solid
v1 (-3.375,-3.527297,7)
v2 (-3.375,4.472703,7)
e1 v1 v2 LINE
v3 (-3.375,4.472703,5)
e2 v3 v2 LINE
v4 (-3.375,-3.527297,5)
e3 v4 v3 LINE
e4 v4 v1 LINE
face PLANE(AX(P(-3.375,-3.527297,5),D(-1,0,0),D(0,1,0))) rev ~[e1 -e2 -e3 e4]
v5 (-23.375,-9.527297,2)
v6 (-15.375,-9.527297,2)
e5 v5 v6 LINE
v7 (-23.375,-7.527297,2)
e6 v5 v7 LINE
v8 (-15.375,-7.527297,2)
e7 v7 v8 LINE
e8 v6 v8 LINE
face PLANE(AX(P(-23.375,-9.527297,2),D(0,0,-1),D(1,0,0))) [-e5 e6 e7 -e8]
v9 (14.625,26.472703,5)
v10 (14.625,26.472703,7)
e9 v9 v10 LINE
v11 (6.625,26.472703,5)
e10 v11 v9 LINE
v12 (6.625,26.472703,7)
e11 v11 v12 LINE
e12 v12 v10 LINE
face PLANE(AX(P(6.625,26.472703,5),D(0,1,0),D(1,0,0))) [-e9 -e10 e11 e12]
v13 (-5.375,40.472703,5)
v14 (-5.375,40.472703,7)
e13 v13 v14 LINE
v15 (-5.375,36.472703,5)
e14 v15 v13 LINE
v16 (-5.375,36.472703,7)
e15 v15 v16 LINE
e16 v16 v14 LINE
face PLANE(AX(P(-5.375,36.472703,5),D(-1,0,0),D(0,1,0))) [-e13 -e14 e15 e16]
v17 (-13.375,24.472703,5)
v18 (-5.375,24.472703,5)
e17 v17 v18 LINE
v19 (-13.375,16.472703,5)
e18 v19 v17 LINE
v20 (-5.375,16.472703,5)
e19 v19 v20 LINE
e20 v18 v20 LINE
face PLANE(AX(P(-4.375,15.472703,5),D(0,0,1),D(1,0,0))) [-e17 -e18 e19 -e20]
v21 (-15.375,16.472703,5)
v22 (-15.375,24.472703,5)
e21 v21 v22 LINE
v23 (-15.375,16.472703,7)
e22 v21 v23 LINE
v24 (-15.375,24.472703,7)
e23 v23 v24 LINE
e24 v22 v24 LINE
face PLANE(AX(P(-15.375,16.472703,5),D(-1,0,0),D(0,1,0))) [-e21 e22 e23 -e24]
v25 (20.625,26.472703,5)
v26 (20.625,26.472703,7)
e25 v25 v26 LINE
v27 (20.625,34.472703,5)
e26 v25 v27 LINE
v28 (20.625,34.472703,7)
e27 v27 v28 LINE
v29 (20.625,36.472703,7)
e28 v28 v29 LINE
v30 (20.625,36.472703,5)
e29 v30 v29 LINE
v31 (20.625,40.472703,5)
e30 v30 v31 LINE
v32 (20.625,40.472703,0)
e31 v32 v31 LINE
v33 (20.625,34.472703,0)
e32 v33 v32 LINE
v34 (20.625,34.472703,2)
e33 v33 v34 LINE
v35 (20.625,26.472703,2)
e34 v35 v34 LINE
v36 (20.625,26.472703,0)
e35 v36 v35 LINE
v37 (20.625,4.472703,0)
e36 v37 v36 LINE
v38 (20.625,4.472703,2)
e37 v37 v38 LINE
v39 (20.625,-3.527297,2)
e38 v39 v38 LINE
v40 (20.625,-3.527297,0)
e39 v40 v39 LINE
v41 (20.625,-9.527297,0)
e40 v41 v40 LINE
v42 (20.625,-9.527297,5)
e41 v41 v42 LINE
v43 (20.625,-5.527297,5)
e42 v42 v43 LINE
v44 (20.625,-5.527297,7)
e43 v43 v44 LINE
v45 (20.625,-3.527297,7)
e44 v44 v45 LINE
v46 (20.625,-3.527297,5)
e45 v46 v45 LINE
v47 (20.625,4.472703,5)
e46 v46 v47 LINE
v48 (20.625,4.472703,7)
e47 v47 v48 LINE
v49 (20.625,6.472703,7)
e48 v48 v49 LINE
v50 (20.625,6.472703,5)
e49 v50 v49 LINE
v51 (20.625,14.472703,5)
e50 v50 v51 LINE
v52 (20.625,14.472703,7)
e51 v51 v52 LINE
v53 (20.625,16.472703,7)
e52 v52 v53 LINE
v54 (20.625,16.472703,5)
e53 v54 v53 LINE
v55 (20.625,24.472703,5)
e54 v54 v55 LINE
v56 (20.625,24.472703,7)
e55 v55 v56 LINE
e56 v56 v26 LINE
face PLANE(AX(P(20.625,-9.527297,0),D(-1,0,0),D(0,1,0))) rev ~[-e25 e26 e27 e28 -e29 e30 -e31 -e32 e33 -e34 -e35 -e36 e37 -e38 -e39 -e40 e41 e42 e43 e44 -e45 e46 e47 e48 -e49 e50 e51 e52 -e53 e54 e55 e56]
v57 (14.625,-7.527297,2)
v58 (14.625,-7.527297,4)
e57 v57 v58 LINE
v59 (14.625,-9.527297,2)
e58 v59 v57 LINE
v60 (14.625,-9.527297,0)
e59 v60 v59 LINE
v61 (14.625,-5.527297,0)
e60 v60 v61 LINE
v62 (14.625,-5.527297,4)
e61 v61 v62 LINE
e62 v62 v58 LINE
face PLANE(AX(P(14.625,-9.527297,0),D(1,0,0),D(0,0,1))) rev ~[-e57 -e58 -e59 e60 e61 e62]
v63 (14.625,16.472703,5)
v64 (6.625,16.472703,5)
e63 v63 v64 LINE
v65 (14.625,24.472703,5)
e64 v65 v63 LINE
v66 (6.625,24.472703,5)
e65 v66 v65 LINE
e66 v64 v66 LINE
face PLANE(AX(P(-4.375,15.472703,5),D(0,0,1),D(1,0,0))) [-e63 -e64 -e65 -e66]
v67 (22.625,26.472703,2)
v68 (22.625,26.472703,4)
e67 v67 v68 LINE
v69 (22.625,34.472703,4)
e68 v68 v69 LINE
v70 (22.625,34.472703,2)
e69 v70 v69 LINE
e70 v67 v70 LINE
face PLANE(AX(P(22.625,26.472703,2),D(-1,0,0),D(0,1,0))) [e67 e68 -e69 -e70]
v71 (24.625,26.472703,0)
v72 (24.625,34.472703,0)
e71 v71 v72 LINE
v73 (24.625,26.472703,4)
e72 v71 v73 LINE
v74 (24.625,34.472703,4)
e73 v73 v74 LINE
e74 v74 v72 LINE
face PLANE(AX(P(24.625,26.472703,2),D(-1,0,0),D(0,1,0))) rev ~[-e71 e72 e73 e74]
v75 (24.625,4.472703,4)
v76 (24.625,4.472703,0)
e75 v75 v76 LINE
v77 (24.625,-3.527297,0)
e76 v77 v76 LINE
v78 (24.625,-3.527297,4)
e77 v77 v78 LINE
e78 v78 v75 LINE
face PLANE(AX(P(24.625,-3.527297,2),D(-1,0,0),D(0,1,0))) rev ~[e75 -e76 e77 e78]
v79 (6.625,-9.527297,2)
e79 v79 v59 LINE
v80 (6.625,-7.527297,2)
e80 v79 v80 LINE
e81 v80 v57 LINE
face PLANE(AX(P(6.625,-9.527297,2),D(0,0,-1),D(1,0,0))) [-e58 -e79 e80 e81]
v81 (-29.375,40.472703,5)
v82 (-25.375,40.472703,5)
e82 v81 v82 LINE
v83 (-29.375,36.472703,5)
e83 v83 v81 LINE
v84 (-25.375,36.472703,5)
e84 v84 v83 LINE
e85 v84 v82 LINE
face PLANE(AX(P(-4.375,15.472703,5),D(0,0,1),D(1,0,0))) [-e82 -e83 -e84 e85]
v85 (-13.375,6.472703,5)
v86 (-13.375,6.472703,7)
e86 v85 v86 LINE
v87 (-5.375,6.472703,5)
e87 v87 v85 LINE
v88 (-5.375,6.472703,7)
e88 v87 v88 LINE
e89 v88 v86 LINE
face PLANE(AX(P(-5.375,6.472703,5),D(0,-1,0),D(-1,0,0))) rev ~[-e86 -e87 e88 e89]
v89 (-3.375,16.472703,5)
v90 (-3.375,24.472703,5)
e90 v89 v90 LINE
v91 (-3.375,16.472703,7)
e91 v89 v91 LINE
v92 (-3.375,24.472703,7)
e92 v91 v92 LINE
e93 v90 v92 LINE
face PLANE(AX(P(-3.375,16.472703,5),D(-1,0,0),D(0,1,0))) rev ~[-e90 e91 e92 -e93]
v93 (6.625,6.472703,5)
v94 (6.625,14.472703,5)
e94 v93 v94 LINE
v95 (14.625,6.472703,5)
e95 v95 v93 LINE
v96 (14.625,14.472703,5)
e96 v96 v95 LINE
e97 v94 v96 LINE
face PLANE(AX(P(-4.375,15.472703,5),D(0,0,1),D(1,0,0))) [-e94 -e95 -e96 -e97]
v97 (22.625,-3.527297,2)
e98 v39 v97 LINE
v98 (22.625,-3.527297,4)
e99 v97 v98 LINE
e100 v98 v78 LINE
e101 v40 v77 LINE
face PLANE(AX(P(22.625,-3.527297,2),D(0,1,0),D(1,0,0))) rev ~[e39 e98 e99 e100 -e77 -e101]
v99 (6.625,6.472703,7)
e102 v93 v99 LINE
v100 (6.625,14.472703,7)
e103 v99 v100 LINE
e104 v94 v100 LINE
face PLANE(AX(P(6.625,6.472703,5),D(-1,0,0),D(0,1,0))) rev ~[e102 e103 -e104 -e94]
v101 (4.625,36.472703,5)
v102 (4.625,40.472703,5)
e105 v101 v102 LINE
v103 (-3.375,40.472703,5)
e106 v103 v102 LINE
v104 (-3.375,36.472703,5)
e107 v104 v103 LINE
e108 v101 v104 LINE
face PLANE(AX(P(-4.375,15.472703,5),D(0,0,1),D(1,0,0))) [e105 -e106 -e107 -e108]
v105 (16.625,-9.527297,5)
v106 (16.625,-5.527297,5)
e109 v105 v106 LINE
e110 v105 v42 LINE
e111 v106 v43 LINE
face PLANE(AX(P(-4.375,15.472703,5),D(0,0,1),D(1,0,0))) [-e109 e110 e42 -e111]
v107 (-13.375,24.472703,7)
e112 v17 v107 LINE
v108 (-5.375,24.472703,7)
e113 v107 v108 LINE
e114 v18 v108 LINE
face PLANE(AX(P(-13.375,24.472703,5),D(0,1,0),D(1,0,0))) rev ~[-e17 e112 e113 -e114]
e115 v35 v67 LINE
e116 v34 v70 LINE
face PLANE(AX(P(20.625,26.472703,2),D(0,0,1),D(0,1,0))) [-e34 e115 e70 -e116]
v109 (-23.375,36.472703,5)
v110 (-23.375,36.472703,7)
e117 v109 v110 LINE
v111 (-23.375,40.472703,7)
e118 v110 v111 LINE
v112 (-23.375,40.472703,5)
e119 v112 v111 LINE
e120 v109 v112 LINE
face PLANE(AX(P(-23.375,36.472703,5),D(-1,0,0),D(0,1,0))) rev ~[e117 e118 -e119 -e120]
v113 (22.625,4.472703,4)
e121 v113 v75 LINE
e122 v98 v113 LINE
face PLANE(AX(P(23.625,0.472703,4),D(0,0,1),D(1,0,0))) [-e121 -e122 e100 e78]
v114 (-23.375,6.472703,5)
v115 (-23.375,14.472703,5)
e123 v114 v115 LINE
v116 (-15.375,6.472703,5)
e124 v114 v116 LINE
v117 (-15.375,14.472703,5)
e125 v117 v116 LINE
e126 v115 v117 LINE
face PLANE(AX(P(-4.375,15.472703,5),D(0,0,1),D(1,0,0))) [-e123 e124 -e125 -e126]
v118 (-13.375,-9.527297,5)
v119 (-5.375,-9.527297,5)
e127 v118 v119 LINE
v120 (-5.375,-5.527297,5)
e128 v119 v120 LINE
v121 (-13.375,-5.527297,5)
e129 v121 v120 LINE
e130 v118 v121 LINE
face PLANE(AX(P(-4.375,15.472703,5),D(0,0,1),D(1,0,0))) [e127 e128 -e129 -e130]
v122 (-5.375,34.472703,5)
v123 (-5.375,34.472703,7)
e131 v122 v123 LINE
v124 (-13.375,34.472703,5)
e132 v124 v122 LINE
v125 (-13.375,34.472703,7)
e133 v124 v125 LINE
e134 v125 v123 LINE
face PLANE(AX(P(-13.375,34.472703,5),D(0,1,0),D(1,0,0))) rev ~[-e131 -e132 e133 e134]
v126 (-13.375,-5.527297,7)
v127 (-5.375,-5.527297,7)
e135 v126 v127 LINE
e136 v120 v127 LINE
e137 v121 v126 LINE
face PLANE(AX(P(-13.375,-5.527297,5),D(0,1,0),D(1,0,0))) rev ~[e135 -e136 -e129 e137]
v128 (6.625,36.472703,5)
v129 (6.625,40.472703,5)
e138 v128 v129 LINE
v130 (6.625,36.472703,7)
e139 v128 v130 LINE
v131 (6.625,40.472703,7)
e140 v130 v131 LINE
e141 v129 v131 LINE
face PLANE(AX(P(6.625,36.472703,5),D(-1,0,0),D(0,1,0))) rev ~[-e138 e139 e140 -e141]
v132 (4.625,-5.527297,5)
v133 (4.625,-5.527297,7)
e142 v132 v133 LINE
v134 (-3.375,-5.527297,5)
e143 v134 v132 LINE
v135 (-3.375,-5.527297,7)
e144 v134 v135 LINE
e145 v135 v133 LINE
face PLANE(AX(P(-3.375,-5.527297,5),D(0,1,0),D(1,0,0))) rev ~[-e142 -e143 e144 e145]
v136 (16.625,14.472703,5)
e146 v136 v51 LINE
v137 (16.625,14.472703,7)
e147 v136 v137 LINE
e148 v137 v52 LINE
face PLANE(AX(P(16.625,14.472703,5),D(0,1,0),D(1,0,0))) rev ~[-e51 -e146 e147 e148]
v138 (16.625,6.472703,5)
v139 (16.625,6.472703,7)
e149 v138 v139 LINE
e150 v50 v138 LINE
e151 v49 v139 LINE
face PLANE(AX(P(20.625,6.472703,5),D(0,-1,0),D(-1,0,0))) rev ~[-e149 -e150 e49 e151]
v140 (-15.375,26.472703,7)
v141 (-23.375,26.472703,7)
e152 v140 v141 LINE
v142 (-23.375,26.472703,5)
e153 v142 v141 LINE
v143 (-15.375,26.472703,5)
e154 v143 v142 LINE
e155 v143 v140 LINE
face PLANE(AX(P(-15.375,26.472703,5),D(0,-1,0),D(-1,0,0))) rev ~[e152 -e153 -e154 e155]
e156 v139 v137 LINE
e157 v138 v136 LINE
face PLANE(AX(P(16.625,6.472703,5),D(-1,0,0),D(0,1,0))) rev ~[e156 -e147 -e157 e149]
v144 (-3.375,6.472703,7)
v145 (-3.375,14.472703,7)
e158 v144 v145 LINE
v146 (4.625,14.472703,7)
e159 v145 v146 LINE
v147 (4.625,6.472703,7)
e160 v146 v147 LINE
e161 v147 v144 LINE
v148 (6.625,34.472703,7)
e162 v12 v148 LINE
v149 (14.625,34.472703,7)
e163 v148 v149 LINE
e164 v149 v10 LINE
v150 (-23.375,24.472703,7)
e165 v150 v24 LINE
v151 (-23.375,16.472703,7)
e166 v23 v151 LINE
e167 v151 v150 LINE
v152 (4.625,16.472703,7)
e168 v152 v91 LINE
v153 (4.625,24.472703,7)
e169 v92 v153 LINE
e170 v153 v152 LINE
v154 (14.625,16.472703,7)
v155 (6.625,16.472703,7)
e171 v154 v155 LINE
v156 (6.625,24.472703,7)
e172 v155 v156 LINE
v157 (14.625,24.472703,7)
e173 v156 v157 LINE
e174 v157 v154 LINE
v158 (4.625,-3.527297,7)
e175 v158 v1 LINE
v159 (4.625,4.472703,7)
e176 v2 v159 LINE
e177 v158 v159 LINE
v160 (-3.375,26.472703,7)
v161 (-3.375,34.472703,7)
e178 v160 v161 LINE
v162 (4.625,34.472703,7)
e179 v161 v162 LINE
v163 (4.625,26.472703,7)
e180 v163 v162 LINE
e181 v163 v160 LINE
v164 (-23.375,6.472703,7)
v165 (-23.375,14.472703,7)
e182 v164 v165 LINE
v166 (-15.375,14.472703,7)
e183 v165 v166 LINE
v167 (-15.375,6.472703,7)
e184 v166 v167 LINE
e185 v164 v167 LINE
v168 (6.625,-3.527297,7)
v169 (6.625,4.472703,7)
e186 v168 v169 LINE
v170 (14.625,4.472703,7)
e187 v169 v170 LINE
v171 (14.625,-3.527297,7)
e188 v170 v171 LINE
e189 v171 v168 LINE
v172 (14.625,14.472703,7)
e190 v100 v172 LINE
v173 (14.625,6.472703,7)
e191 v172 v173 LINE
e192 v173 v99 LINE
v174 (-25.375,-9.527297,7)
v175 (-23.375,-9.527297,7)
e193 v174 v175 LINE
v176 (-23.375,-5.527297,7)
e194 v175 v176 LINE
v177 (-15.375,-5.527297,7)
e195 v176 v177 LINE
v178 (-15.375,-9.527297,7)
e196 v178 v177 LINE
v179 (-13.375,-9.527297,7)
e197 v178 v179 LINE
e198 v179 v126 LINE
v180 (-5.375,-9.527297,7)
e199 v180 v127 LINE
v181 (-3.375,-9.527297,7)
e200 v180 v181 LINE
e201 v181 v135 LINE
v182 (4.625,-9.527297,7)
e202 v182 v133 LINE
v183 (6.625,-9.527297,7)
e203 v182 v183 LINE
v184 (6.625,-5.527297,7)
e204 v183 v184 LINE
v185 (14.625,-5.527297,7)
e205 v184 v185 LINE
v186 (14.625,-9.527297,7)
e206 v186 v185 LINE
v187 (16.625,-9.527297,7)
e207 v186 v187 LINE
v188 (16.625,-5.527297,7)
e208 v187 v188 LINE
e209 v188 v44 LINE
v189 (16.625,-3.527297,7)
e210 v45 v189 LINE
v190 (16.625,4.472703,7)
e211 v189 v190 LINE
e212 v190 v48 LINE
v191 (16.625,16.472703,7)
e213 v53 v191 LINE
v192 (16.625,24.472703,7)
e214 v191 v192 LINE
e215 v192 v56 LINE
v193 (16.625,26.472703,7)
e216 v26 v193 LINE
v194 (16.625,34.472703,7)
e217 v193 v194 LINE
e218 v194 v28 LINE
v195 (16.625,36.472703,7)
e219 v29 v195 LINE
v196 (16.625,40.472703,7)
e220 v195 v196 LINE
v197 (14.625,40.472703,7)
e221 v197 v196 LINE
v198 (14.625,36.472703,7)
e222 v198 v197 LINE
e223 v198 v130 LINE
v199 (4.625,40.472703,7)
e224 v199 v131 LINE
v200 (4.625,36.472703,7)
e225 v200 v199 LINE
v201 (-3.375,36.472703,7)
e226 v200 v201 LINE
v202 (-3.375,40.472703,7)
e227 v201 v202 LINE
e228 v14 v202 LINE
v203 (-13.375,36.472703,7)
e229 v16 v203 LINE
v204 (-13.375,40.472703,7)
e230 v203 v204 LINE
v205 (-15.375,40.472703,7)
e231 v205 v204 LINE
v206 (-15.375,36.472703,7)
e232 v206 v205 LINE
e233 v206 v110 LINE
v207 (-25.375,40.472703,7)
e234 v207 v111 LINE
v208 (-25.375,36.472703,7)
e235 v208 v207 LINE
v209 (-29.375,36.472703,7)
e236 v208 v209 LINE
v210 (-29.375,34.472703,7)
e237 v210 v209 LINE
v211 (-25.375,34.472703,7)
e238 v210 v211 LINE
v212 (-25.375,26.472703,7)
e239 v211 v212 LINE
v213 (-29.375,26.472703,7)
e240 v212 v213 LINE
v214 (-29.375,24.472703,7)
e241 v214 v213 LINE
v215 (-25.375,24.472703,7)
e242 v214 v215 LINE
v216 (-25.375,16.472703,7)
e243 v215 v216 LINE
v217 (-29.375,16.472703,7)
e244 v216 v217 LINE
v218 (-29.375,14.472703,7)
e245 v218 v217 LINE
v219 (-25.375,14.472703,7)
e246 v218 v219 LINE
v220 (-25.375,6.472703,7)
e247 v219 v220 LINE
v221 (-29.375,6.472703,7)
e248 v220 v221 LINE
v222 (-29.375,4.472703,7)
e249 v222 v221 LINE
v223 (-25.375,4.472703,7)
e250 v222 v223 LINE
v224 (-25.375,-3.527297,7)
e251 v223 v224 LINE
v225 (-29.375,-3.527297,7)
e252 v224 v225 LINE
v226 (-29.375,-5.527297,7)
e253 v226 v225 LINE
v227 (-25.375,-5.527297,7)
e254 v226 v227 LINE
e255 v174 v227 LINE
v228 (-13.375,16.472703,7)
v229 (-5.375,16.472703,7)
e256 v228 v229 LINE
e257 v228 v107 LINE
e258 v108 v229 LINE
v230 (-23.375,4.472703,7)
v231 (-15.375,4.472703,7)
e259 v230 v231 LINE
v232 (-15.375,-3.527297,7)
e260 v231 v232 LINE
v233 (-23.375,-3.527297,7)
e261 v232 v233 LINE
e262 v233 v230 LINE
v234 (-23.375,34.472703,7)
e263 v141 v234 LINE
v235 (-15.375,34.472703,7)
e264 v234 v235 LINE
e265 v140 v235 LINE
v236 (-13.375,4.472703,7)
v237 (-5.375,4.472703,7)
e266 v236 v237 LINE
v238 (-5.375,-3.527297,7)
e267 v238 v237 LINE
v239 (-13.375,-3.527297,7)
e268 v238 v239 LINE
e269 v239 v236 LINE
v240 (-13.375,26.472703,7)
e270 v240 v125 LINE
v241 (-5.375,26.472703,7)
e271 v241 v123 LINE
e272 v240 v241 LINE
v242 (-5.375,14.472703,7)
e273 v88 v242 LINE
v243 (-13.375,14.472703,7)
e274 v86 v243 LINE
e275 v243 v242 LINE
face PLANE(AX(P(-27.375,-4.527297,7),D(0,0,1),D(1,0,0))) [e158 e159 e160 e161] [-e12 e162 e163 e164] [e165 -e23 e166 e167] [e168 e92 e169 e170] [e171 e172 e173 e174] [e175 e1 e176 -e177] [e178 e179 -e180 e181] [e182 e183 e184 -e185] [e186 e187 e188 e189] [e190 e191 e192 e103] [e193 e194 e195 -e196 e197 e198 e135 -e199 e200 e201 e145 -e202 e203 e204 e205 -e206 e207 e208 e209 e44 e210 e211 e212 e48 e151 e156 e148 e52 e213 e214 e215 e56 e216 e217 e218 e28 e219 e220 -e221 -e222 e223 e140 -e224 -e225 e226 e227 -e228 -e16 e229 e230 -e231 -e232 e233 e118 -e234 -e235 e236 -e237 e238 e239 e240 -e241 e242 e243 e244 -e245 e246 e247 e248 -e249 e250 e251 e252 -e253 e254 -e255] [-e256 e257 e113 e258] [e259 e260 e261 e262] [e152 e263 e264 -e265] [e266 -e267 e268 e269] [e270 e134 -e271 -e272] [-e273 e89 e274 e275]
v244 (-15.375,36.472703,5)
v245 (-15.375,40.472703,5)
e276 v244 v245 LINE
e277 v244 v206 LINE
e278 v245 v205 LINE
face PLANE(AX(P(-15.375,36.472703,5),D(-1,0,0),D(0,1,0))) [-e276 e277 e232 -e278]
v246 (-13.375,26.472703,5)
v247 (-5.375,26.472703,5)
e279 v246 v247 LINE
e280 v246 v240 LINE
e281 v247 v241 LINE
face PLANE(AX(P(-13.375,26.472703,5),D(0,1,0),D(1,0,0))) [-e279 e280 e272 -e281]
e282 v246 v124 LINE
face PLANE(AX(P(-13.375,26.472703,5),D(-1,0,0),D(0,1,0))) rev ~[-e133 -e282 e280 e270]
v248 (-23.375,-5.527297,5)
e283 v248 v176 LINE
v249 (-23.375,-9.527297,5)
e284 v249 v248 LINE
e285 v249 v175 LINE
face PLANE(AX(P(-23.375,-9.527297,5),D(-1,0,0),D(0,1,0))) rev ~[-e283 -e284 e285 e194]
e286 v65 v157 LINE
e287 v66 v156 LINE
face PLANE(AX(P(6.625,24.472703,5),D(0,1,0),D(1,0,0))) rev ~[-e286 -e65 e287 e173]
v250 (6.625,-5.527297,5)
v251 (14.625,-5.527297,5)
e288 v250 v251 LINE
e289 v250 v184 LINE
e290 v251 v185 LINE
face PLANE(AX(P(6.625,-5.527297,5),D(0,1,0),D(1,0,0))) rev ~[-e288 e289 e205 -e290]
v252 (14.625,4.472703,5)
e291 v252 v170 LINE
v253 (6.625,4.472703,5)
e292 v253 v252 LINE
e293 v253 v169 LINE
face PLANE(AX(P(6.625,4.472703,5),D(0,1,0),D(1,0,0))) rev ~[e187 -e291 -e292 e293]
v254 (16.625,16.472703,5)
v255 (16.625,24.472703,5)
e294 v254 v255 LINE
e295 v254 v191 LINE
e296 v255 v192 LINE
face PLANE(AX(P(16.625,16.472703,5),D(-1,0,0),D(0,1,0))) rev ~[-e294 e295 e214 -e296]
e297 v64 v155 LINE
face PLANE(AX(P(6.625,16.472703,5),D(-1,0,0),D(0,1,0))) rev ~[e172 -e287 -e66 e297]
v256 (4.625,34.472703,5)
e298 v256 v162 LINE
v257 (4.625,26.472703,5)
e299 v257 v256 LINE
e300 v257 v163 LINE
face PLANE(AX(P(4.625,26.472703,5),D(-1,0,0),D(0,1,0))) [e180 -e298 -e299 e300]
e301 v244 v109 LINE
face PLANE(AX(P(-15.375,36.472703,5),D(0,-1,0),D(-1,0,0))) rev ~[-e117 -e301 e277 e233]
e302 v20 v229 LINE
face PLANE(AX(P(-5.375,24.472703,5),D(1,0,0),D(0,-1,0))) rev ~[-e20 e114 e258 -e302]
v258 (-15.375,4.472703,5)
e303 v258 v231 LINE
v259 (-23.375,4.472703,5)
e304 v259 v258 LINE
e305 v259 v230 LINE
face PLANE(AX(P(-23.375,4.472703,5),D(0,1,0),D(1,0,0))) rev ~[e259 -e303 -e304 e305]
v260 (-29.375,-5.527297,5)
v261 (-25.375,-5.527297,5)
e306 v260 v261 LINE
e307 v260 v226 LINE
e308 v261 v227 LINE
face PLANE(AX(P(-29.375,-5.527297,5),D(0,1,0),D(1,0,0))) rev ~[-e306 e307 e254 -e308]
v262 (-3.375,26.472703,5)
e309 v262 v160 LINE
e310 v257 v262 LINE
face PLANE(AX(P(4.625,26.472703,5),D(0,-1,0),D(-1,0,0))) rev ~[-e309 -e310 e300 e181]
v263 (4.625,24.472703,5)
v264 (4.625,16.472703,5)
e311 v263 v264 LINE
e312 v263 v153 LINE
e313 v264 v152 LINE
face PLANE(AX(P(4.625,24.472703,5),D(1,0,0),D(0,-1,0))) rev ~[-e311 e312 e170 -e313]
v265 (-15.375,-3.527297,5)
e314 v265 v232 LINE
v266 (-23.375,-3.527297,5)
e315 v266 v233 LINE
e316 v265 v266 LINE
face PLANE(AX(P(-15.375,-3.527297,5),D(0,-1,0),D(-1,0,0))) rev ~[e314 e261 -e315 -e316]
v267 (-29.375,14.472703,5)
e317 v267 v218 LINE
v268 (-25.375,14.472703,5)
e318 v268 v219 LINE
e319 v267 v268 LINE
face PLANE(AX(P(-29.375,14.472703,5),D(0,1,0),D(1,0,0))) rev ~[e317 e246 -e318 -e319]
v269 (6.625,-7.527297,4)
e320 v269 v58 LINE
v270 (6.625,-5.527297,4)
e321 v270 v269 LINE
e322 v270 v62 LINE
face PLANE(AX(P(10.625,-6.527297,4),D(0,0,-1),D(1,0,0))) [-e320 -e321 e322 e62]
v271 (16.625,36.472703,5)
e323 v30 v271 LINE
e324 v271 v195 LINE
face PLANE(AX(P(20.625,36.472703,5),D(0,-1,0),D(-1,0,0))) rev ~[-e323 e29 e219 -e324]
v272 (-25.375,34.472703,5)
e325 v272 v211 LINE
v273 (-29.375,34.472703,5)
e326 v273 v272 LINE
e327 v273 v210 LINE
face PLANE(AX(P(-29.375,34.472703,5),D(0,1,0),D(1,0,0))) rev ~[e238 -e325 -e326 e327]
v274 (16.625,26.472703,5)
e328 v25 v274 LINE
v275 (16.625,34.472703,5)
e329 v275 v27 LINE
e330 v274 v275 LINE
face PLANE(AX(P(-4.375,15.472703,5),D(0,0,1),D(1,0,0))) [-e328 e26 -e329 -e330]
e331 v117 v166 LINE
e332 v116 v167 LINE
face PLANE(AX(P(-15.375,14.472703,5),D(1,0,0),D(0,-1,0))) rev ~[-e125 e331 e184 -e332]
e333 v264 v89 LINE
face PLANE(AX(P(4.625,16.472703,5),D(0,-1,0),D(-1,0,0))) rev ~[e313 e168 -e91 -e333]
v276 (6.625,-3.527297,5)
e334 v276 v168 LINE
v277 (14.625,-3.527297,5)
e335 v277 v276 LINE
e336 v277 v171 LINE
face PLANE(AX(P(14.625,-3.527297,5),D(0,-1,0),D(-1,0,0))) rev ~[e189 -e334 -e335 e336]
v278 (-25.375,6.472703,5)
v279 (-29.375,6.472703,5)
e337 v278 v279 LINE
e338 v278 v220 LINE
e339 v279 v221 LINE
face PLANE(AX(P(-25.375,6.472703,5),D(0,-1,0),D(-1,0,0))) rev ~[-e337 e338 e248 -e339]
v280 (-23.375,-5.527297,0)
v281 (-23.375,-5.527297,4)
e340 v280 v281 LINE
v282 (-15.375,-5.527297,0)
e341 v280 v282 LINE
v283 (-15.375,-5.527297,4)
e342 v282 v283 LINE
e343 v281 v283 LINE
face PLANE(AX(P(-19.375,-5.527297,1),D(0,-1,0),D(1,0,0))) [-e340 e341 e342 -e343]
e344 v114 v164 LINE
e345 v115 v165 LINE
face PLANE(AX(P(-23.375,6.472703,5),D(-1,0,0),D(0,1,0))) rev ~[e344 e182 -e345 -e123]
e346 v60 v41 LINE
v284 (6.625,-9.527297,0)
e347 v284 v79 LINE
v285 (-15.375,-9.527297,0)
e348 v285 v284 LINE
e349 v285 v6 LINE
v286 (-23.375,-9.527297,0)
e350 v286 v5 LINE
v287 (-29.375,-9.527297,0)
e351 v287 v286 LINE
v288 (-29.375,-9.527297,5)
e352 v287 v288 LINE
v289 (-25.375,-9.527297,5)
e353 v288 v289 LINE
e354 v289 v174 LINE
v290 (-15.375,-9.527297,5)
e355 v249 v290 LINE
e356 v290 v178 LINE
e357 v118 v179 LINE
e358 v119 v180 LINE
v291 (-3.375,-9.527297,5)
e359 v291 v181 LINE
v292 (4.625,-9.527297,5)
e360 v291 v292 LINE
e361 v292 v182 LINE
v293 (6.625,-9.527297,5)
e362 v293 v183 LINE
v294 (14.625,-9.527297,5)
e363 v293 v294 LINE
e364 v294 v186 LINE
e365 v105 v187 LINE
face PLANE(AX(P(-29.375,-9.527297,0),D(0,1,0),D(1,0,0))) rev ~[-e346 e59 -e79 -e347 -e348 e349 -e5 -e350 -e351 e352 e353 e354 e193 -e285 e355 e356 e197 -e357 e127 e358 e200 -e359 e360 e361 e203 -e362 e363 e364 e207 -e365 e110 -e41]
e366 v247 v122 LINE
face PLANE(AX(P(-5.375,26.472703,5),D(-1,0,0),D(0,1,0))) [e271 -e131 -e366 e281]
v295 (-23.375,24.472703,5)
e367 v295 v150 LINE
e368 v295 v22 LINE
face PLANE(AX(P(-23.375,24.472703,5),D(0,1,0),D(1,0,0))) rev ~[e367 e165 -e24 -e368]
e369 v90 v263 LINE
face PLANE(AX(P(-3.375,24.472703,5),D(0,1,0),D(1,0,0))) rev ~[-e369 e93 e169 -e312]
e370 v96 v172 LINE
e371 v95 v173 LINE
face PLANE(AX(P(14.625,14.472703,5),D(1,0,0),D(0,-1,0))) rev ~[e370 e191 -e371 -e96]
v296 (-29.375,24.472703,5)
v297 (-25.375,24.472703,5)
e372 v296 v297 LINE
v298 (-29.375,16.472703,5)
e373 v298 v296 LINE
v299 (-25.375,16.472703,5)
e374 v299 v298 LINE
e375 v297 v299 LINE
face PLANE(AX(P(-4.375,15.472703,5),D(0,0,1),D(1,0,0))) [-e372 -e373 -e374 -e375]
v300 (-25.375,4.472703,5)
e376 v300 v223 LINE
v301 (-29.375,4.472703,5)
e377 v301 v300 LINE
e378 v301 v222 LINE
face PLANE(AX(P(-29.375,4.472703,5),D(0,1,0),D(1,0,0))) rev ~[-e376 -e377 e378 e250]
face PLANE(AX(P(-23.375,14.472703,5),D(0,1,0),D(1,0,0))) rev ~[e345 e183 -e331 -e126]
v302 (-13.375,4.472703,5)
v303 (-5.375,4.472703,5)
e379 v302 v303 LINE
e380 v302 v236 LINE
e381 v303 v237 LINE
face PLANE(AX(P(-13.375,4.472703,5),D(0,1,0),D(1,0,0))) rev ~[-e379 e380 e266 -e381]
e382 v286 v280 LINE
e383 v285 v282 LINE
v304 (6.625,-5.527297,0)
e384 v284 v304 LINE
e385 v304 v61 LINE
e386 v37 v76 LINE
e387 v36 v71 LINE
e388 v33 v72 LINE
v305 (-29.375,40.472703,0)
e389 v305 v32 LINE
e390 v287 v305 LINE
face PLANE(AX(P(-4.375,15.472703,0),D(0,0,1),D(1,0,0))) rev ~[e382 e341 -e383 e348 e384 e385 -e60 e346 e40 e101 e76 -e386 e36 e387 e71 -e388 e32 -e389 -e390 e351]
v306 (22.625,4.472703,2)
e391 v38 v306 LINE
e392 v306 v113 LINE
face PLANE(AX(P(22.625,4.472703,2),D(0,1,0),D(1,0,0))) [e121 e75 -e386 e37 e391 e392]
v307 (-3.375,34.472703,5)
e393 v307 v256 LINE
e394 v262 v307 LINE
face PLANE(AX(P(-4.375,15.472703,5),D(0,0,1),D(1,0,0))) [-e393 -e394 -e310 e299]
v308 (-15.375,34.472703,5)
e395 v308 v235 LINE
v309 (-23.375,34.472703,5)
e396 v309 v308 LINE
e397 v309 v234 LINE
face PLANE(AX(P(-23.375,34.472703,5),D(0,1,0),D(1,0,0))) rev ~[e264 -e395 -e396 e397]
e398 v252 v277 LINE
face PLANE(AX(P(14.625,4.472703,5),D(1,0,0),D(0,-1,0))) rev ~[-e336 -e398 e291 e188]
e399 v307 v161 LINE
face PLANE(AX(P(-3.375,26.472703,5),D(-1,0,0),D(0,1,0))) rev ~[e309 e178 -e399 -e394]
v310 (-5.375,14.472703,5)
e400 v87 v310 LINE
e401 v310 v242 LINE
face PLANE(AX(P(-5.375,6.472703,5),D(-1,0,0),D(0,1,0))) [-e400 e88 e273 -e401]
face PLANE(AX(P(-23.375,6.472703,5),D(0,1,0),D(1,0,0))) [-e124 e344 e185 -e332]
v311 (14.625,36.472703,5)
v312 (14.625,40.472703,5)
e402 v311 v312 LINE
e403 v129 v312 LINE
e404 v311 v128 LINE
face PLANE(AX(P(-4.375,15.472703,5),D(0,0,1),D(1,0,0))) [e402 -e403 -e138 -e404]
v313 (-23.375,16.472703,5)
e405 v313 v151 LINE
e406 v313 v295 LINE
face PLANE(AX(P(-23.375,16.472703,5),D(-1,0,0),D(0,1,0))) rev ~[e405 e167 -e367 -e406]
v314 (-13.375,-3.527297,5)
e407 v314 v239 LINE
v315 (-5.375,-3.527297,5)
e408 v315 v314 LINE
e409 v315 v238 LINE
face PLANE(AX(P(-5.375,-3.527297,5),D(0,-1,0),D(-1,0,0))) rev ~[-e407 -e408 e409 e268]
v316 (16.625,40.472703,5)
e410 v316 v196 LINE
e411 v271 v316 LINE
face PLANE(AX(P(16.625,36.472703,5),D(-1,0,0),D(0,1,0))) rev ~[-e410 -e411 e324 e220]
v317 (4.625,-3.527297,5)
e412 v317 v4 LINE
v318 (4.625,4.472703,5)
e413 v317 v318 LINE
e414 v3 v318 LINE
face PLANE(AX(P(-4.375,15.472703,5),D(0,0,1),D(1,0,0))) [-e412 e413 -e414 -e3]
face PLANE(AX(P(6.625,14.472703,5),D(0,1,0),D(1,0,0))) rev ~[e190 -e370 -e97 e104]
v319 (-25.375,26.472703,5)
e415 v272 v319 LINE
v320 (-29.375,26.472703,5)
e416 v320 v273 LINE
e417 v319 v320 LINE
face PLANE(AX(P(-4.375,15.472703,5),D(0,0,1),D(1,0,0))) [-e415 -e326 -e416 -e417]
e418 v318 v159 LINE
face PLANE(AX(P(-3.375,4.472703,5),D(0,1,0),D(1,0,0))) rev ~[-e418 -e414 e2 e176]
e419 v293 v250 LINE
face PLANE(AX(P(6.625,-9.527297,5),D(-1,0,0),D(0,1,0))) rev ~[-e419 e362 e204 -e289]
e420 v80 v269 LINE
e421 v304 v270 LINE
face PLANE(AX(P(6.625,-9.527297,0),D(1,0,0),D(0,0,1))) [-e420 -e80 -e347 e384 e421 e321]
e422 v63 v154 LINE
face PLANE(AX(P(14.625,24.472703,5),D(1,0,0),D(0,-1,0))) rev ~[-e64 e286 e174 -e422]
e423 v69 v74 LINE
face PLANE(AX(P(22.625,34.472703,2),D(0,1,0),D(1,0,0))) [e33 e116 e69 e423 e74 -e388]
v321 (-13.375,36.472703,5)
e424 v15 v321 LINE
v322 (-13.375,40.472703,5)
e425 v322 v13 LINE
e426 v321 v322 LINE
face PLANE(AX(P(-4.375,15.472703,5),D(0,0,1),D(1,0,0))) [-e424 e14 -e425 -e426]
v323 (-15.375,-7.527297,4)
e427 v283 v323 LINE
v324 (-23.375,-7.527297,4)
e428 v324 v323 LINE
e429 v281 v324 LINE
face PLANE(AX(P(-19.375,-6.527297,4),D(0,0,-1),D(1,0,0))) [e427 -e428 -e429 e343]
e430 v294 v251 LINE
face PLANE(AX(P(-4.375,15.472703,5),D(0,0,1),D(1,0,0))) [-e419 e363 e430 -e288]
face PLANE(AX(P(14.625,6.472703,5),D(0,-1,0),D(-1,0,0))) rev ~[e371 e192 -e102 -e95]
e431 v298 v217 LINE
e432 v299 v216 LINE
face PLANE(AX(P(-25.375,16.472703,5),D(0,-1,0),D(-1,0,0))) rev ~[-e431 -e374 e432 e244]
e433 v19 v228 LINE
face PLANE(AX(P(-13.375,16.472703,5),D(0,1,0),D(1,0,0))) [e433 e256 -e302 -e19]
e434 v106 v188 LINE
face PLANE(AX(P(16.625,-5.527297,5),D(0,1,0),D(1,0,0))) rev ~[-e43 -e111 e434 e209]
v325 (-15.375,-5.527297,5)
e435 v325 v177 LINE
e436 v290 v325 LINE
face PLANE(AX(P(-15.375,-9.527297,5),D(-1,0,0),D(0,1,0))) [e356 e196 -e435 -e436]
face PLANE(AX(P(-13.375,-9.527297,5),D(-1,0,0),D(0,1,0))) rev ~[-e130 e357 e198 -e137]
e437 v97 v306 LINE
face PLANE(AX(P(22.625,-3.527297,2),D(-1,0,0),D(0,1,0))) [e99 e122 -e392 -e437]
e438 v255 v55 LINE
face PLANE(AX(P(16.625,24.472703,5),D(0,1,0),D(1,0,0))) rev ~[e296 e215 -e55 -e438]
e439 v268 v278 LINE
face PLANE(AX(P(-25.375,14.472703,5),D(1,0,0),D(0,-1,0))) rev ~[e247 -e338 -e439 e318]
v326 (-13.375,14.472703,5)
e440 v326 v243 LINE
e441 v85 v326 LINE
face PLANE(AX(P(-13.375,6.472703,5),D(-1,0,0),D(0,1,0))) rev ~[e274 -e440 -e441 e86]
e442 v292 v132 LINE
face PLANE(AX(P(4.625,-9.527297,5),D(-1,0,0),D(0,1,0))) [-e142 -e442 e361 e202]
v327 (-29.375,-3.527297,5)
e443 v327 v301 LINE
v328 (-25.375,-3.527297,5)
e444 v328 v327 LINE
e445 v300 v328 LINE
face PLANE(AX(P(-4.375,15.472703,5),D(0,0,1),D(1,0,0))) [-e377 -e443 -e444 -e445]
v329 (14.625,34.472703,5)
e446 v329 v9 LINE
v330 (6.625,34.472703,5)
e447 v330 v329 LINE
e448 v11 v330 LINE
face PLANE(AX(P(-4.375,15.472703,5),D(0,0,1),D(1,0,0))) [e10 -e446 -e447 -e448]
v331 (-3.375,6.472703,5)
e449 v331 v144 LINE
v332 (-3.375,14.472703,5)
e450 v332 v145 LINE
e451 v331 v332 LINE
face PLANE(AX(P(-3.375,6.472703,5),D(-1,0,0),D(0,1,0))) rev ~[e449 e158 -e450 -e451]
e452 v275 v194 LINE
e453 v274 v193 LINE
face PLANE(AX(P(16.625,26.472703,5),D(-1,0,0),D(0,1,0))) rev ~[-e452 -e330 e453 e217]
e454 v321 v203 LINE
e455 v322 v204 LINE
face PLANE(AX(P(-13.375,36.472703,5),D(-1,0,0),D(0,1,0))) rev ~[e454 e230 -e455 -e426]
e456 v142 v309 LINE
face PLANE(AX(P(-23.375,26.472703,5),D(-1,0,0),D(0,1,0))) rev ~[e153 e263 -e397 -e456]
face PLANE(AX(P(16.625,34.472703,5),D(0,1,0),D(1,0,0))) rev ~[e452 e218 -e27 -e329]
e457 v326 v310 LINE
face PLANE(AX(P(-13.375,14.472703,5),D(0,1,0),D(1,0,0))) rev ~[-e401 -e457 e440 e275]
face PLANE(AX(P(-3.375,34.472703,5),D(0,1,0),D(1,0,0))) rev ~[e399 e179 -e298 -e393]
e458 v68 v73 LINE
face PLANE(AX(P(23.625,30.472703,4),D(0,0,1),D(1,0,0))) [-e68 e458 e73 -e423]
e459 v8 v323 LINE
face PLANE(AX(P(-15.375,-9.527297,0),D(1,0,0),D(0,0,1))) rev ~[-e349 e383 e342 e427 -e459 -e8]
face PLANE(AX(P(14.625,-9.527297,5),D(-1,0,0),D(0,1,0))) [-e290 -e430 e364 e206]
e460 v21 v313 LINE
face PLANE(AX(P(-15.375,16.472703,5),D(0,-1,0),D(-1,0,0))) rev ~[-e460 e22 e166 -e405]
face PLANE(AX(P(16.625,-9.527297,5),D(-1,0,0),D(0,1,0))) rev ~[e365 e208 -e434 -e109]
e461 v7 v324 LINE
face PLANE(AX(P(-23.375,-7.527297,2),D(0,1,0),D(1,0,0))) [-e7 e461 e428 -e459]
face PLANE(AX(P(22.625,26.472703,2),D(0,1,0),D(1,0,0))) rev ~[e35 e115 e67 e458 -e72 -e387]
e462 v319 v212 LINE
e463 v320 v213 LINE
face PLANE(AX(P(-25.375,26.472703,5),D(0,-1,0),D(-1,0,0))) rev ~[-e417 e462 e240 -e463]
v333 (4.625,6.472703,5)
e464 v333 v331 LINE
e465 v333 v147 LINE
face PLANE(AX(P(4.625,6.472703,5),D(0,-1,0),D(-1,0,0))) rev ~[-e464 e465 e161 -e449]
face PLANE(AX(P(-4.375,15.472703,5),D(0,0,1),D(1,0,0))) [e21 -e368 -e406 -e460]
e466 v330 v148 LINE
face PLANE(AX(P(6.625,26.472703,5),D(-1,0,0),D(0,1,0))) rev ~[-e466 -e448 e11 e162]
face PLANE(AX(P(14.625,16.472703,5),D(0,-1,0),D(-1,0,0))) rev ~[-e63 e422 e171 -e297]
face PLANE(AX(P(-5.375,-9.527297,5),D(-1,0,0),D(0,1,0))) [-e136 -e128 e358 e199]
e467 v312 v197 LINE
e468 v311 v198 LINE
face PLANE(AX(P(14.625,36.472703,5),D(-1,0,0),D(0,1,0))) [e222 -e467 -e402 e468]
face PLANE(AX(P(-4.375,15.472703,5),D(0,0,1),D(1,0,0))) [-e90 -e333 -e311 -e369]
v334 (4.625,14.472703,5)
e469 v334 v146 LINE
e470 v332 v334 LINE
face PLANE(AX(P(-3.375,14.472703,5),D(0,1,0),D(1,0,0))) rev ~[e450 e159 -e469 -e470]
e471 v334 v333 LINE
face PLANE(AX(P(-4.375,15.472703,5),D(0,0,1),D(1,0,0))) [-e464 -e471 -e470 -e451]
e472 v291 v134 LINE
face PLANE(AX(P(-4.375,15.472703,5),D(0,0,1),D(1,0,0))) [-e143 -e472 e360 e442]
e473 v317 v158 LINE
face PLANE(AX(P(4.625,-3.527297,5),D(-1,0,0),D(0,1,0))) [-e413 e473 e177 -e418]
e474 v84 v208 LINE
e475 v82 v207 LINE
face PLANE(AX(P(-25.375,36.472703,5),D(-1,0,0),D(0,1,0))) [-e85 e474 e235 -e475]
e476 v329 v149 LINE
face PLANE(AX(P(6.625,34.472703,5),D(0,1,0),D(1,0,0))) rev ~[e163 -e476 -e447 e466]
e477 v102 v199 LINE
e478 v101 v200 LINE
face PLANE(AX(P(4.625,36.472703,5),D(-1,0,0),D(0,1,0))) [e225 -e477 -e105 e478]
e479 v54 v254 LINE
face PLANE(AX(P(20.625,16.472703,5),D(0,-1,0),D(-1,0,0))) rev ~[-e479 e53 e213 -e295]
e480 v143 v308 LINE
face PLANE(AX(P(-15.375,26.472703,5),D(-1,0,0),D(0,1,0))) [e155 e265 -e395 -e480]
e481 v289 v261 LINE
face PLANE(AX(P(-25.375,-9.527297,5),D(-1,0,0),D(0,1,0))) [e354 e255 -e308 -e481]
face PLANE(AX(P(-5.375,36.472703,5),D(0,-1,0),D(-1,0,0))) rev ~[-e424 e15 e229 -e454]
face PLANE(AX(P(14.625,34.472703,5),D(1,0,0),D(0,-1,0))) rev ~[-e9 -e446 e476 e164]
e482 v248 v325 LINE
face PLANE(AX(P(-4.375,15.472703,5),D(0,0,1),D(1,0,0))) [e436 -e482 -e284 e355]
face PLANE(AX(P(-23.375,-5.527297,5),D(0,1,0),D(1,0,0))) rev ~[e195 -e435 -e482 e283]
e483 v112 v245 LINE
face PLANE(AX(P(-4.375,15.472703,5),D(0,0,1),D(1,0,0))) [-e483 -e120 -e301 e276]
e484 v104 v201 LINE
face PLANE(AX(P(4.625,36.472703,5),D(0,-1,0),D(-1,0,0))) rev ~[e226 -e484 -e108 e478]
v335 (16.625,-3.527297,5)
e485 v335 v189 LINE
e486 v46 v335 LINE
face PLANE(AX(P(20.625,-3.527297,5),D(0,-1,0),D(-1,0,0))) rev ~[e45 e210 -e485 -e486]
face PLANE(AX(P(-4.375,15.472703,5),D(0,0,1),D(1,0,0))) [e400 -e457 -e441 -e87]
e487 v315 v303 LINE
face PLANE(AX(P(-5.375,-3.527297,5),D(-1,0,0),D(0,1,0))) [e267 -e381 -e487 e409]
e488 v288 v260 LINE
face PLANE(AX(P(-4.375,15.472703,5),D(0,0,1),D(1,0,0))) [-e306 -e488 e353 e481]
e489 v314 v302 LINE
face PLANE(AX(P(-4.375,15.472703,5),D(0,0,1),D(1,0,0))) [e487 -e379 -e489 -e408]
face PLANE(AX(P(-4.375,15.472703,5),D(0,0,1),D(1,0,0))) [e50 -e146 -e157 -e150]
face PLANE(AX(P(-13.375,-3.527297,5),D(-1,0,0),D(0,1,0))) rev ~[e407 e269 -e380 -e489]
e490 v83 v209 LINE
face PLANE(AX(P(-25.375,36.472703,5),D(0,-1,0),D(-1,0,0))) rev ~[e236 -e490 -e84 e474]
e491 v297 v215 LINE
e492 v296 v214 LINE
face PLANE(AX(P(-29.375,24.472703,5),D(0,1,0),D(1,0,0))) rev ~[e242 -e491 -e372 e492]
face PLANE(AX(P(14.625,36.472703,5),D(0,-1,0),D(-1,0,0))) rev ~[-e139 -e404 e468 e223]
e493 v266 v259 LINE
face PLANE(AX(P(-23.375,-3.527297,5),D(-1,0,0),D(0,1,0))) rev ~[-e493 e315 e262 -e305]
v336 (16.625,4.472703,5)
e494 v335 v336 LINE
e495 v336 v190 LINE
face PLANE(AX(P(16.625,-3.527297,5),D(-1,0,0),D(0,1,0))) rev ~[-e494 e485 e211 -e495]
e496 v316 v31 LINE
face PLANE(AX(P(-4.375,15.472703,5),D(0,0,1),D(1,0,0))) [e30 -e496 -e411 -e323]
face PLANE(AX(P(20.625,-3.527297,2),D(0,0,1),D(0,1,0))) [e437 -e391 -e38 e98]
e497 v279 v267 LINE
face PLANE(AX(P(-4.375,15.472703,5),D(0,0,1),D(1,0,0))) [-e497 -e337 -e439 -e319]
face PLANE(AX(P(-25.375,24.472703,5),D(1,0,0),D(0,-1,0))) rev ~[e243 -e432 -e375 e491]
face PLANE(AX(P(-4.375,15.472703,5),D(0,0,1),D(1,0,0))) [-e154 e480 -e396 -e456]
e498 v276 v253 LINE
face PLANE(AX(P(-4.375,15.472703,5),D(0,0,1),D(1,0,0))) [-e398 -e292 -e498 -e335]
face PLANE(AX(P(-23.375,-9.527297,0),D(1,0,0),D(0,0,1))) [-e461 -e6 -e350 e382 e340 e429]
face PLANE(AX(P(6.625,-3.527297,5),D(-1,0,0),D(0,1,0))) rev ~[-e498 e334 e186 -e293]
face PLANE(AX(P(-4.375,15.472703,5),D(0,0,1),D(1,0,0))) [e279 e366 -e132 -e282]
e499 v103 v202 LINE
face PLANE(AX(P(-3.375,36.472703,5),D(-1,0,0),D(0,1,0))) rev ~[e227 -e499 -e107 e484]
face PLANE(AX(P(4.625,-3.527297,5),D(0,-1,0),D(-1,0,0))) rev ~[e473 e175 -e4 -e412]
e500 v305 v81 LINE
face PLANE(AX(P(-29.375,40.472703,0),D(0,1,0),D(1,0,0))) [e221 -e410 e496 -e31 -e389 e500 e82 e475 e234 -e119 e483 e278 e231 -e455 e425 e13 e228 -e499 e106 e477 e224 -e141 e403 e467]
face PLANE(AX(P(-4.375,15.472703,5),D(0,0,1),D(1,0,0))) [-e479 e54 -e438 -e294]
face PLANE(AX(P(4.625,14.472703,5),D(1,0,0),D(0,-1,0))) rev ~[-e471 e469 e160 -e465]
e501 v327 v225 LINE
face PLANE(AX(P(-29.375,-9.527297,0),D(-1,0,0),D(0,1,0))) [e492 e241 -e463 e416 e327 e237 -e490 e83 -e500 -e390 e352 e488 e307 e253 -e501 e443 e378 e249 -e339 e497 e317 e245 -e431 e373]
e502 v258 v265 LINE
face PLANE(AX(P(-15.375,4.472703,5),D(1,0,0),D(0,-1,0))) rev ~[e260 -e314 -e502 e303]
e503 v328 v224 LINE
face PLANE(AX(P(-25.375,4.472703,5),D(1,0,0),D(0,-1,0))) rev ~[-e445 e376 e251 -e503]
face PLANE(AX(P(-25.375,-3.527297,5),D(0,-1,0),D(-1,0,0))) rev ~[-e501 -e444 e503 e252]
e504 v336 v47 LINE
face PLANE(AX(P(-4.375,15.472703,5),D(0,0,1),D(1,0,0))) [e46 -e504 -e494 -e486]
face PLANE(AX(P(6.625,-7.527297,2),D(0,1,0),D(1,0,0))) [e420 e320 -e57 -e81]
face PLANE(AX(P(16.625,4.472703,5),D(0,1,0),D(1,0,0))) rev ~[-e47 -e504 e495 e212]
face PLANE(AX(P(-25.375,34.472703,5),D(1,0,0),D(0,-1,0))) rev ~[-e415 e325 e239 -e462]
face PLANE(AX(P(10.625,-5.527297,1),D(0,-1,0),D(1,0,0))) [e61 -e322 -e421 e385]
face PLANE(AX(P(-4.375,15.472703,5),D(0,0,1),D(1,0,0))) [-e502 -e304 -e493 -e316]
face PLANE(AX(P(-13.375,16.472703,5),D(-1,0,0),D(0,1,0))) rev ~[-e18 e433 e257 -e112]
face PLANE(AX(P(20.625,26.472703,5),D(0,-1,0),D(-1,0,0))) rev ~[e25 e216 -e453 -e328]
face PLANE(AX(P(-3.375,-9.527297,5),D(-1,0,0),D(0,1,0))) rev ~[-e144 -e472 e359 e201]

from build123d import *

# Parameters (mm, degrees)
F0_W      = 50
F0_H      = 50
F1_DEPTH  = 5
F2_W      = 4
F2_H      = 2
F2_W_2    = 2
F2_H_2    = 4
F2_W_3    = 8
F2_H_3    = 8
F4_DEPTH  = 2
F3_W      = 8
F3_H      = 2
F5_DEPTH  = 4
F6_W      = 8
F6_H      = 2
F7_DEPTH  = 4
F8_W      = 2
F8_H      = 8
F9_DEPTH  = 2
F10_W     = 2
F10_H     = 8
F11_DEPTH = 2
F12_W     = 8
F12_H     = 2
F13_DEPTH = 2
F14_W     = 8
F14_H     = 2
F15_DEPTH = 2


with BuildPart() as f1:
    # F0 (on Top) → F1 (new body)
    with BuildSketch(Plane.XY):
        with Locations((-4.374999553, 15.4727034503)):
            Rectangle(F0_W, F0_H)
    extrude(amount=F1_DEPTH)

    # F2 (on face) → F4 (join)
    with BuildSketch(Plane.XY.offset(5)):
        with Locations((-27.374999553, -4.5272965497)):
            Rectangle(F2_W, F2_H)
        with Locations((-24.374999553, -4.5272965497)):
            Rectangle(F2_W_2, F2_H)
        with Locations((-24.374999553, -7.5272965497)):
            Rectangle(F2_W_2, F2_H_2)
        with Locations((-19.374999553, -4.5272965497)):
            Rectangle(F2_W_3, F2_H)
        with Locations((-24.374999553, 0.4727034503)):
            Rectangle(F2_W_2, F2_H_3)
        with Locations((-14.374999553, -4.5272965497)):
            Rectangle(F2_W_2, F2_H)
        with Locations((-14.374999553, -7.5272965497)):
            Rectangle(F2_W_2, F2_H_2)
        with Locations((-24.374999553, 5.4727034503)):
            Rectangle(F2_W_2, F2_H)
        with Locations((-27.374999553, 5.4727034503)):
            Rectangle(F2_W, F2_H)
        with Locations((-9.374999553, -4.5272965497)):
            Rectangle(F2_W_3, F2_H)
        with Locations((-24.374999553, 10.4727034503)):
            Rectangle(F2_W_2, F2_H_3)
        with Locations((-4.374999553, -4.5272965497)):
            Rectangle(F2_W_2, F2_H)
        with Locations((-4.374999553, -7.5272965497)):
            Rectangle(F2_W_2, F2_H_2)
        with Locations((-24.374999553, 15.4727034503)):
            Rectangle(F2_W_2, F2_H)
        with Locations((-27.374999553, 15.4727034503)):
            Rectangle(F2_W, F2_H)
        with Locations((0.625000447, -4.5272965497)):
            Rectangle(F2_W_3, F2_H)
        with Locations((-24.374999553, 20.4727034503)):
            Rectangle(F2_W_2, F2_H_3)
        with Locations((5.625000447, -4.5272965497)):
            Rectangle(F2_W_2, F2_H)
        with Locations((5.625000447, -7.5272965497)):
            Rectangle(F2_W_2, F2_H_2)
        with Locations((-24.374999553, 25.4727034503)):
            Rectangle(F2_W_2, F2_H)
        with Locations((-27.374999553, 25.4727034503)):
            Rectangle(F2_W, F2_H)
        with Locations((10.625000447, -4.5272965497)):
            Rectangle(F2_W_3, F2_H)
        with Locations((-24.374999553, 30.4727034503)):
            Rectangle(F2_W_2, F2_H_3)
        with Locations((15.625000447, -4.5272965497)):
            Rectangle(F2_W_2, F2_H)
        with Locations((15.625000447, -7.5272965497)):
            Rectangle(F2_W_2, F2_H_2)
        with Locations((-24.374999553, 35.4727034503)):
            Rectangle(F2_W_2, F2_H)
        with Locations((-27.374999553, 35.4727034503)):
            Rectangle(F2_W, F2_H)
        with Locations((18.625000447, -4.5272965497)):
            Rectangle(F2_W, F2_H)
        with Locations((15.625000447, 0.4727034503)):
            Rectangle(F2_W_2, F2_H_3)
        with Locations((-19.374999553, 35.4727034503)):
            Rectangle(F2_W_3, F2_H)
        with Locations((-24.374999553, 38.4727034503)):
            Rectangle(F2_W_2, F2_H_2)
        with Locations((15.625000447, 5.4727034503)):
            Rectangle(F2_W_2, F2_H)
        with Locations((-14.374999553, 35.4727034503)):
            Rectangle(F2_W_2, F2_H)
        with Locations((18.625000447, 5.4727034503)):
            Rectangle(F2_W, F2_H)
        with Locations((15.625000447, 10.4727034503)):
            Rectangle(F2_W_2, F2_H_3)
        with Locations((-9.374999553, 35.4727034503)):
            Rectangle(F2_W_3, F2_H)
        with Locations((-14.374999553, 38.4727034503)):
            Rectangle(F2_W_2, F2_H_2)
        with Locations((15.625000447, 15.4727034503)):
            Rectangle(F2_W_2, F2_H)
        with Locations((-4.374999553, 35.4727034503)):
            Rectangle(F2_W_2, F2_H)
        with Locations((18.625000447, 15.4727034503)):
            Rectangle(F2_W, F2_H)
        with Locations((15.625000447, 20.4727034503)):
            Rectangle(F2_W_2, F2_H_3)
        with Locations((0.625000447, 35.4727034503)):
            Rectangle(F2_W_3, F2_H)
        with Locations((-4.374999553, 38.4727034503)):
            Rectangle(F2_W_2, F2_H_2)
        with Locations((15.625000447, 25.4727034503)):
            Rectangle(F2_W_2, F2_H)
        with Locations((5.625000447, 35.4727034503)):
            Rectangle(F2_W_2, F2_H)
        with Locations((18.625000447, 25.4727034503)):
            Rectangle(F2_W, F2_H)
        with Locations((15.625000447, 30.4727034503)):
            Rectangle(F2_W_2, F2_H_3)
        with Locations((10.625000447, 35.4727034503)):
            Rectangle(F2_W_3, F2_H)
        with Locations((5.625000447, 38.4727034503)):
            Rectangle(F2_W_2, F2_H_2)
        with Locations((15.625000447, 35.4727034503)):
            Rectangle(F2_W_2, F2_H)
        with Locations((18.625000447, 35.4727034503)):
            Rectangle(F2_W, F2_H)
        with Locations((15.625000447, 38.4727034503)):
            Rectangle(F2_W_2, F2_H_2)
        with Locations((-14.374999553, 0.4727034503)):
            Rectangle(F2_W_2, F2_H_3)
        with Locations((-14.374999553, 5.4727034503)):
            Rectangle(F2_W_2, F2_H)
        with Locations((-9.374999553, 5.4727034503)):
            Rectangle(F2_W_3, F2_H)
        with Locations((-14.374999553, 10.4727034503)):
            Rectangle(F2_W_2, F2_H_3)
        with Locations((-14.374999553, 15.4727034503)):
            Rectangle(F2_W_2, F2_H)
        with Locations((-19.374999553, 15.4727034503)):
            Rectangle(F2_W_3, F2_H)
        with Locations((-19.374999553, 25.4727034503)):
            Rectangle(F2_W_3, F2_H)
        with Locations((-14.374999553, 25.4727034503)):
            Rectangle(F2_W_2, F2_H)
        with Locations((-14.374999553, 30.4727034503)):
            Rectangle(F2_W_2, F2_H_3)
        with Locations((-14.374999553, 20.4727034503)):
            Rectangle(F2_W_2, F2_H_3)
        with Locations((-9.374999553, 25.4727034503)):
            Rectangle(F2_W_3, F2_H)
        with Locations((-4.374999553, 20.4727034503)):
            Rectangle(F2_W_2, F2_H_3)
        with Locations((-4.374999553, 15.4727034503)):
            Rectangle(F2_W_2, F2_H)
        with Locations((-9.374999553, 15.4727034503)):
            Rectangle(F2_W_3, F2_H)
        with Locations((-4.374999553, 10.4727034503)):
            Rectangle(F2_W_2, F2_H_3)
        with Locations((-4.374999553, 5.4727034503)):
            Rectangle(F2_W_2, F2_H)
        with Locations((-4.374999553, 0.4727034503)):
            Rectangle(F2_W_2, F2_H_3)
        with Locations((0.625000447, 5.4727034503)):
            Rectangle(F2_W_3, F2_H)
        with Locations((5.625000447, 0.4727034503)):
            Rectangle(F2_W_2, F2_H_3)
        with Locations((5.625000447, 5.4727034503)):
            Rectangle(F2_W_2, F2_H)
        with Locations((10.625000447, 5.4727034503)):
            Rectangle(F2_W_3, F2_H)
        with Locations((5.625000447, 10.4727034503)):
            Rectangle(F2_W_2, F2_H_3)
        with Locations((10.625000447, 15.4727034503)):
            Rectangle(F2_W_3, F2_H)
        with Locations((5.625000447, 15.4727034503)):
            Rectangle(F2_W_2, F2_H)
        with Locations((0.625000447, 15.4727034503)):
            Rectangle(F2_W_3, F2_H)
        with Locations((5.625000447, 20.4727034503)):
            Rectangle(F2_W_2, F2_H_3)
        with Locations((5.625000447, 25.4727034503)):
            Rectangle(F2_W_2, F2_H)
        with Locations((0.625000447, 25.4727034503)):
            Rectangle(F2_W_3, F2_H)
        with Locations((-4.374999553, 30.4727034503)):
            Rectangle(F2_W_2, F2_H_3)
        with Locations((-4.374999553, 25.4727034503)):
            Rectangle(F2_W_2, F2_H)
        with Locations((5.625000447, 30.4727034503)):
            Rectangle(F2_W_2, F2_H_3)
        with Locations((10.625000447, 25.4727034503)):
            Rectangle(F2_W_3, F2_H)
        with Locations((-19.374999553, 5.4727034503)):
            Rectangle(F2_W_3, F2_H)
    extrude(amount=F4_DEPTH)

    # F3 (on face) → F5 (cut)
    with BuildSketch(Plane.XZ.offset(9.5272965497)):
        with Locations((-19.374999553, 1)):
            Rectangle(F3_W, F3_H)
        with Locations((10.625000447, 1)):
            Rectangle(F3_W, F3_H)
    extrude(amount=-F5_DEPTH, mode=Mode.SUBTRACT)

    # F6 (on face) → F7 (join)
    with BuildSketch(Plane.YZ.offset(20.625000447)):
        with Locations((0.4727034503, 1)):
            Rectangle(F6_W, F6_H)
        with Locations((30.4727034503, 1)):
            Rectangle(F6_W, F6_H)
    extrude(amount=F7_DEPTH)

    # F8 (on face) → F9 (join)
    with BuildSketch(Plane.XY.offset(2)):
        with Locations((23.625000447, 30.4727034503)):
            Rectangle(F8_W, F8_H)
    extrude(amount=F9_DEPTH)

    # F10 (on face) → F11 (join)
    with BuildSketch(Plane.XY.offset(2)):
        with Locations((23.625000447, 0.4727034503)):
            Rectangle(F10_W, F10_H)
    extrude(amount=F11_DEPTH)

    # F12 (on face) → F13 (cut)
    with BuildSketch(Plane(origin=(0, 0, 2), x_dir=(1, 0, 0), z_dir=(0, 0, -1))):
        with Locations((10.625000447, 6.5272965497)):
            Rectangle(F12_W, F12_H)
    extrude(amount=-F13_DEPTH, mode=Mode.SUBTRACT)

    # F14 (on face) → F15 (cut)
    with BuildSketch(Plane(origin=(0, 0, 2), x_dir=(1, 0, 0), z_dir=(0, 0, -1))):
        with Locations((-19.374999553, 6.5272965497)):
            Rectangle(F14_W, F14_H)
    extrude(amount=-F15_DEPTH, mode=Mode.SUBTRACT)


solid = f1.part
